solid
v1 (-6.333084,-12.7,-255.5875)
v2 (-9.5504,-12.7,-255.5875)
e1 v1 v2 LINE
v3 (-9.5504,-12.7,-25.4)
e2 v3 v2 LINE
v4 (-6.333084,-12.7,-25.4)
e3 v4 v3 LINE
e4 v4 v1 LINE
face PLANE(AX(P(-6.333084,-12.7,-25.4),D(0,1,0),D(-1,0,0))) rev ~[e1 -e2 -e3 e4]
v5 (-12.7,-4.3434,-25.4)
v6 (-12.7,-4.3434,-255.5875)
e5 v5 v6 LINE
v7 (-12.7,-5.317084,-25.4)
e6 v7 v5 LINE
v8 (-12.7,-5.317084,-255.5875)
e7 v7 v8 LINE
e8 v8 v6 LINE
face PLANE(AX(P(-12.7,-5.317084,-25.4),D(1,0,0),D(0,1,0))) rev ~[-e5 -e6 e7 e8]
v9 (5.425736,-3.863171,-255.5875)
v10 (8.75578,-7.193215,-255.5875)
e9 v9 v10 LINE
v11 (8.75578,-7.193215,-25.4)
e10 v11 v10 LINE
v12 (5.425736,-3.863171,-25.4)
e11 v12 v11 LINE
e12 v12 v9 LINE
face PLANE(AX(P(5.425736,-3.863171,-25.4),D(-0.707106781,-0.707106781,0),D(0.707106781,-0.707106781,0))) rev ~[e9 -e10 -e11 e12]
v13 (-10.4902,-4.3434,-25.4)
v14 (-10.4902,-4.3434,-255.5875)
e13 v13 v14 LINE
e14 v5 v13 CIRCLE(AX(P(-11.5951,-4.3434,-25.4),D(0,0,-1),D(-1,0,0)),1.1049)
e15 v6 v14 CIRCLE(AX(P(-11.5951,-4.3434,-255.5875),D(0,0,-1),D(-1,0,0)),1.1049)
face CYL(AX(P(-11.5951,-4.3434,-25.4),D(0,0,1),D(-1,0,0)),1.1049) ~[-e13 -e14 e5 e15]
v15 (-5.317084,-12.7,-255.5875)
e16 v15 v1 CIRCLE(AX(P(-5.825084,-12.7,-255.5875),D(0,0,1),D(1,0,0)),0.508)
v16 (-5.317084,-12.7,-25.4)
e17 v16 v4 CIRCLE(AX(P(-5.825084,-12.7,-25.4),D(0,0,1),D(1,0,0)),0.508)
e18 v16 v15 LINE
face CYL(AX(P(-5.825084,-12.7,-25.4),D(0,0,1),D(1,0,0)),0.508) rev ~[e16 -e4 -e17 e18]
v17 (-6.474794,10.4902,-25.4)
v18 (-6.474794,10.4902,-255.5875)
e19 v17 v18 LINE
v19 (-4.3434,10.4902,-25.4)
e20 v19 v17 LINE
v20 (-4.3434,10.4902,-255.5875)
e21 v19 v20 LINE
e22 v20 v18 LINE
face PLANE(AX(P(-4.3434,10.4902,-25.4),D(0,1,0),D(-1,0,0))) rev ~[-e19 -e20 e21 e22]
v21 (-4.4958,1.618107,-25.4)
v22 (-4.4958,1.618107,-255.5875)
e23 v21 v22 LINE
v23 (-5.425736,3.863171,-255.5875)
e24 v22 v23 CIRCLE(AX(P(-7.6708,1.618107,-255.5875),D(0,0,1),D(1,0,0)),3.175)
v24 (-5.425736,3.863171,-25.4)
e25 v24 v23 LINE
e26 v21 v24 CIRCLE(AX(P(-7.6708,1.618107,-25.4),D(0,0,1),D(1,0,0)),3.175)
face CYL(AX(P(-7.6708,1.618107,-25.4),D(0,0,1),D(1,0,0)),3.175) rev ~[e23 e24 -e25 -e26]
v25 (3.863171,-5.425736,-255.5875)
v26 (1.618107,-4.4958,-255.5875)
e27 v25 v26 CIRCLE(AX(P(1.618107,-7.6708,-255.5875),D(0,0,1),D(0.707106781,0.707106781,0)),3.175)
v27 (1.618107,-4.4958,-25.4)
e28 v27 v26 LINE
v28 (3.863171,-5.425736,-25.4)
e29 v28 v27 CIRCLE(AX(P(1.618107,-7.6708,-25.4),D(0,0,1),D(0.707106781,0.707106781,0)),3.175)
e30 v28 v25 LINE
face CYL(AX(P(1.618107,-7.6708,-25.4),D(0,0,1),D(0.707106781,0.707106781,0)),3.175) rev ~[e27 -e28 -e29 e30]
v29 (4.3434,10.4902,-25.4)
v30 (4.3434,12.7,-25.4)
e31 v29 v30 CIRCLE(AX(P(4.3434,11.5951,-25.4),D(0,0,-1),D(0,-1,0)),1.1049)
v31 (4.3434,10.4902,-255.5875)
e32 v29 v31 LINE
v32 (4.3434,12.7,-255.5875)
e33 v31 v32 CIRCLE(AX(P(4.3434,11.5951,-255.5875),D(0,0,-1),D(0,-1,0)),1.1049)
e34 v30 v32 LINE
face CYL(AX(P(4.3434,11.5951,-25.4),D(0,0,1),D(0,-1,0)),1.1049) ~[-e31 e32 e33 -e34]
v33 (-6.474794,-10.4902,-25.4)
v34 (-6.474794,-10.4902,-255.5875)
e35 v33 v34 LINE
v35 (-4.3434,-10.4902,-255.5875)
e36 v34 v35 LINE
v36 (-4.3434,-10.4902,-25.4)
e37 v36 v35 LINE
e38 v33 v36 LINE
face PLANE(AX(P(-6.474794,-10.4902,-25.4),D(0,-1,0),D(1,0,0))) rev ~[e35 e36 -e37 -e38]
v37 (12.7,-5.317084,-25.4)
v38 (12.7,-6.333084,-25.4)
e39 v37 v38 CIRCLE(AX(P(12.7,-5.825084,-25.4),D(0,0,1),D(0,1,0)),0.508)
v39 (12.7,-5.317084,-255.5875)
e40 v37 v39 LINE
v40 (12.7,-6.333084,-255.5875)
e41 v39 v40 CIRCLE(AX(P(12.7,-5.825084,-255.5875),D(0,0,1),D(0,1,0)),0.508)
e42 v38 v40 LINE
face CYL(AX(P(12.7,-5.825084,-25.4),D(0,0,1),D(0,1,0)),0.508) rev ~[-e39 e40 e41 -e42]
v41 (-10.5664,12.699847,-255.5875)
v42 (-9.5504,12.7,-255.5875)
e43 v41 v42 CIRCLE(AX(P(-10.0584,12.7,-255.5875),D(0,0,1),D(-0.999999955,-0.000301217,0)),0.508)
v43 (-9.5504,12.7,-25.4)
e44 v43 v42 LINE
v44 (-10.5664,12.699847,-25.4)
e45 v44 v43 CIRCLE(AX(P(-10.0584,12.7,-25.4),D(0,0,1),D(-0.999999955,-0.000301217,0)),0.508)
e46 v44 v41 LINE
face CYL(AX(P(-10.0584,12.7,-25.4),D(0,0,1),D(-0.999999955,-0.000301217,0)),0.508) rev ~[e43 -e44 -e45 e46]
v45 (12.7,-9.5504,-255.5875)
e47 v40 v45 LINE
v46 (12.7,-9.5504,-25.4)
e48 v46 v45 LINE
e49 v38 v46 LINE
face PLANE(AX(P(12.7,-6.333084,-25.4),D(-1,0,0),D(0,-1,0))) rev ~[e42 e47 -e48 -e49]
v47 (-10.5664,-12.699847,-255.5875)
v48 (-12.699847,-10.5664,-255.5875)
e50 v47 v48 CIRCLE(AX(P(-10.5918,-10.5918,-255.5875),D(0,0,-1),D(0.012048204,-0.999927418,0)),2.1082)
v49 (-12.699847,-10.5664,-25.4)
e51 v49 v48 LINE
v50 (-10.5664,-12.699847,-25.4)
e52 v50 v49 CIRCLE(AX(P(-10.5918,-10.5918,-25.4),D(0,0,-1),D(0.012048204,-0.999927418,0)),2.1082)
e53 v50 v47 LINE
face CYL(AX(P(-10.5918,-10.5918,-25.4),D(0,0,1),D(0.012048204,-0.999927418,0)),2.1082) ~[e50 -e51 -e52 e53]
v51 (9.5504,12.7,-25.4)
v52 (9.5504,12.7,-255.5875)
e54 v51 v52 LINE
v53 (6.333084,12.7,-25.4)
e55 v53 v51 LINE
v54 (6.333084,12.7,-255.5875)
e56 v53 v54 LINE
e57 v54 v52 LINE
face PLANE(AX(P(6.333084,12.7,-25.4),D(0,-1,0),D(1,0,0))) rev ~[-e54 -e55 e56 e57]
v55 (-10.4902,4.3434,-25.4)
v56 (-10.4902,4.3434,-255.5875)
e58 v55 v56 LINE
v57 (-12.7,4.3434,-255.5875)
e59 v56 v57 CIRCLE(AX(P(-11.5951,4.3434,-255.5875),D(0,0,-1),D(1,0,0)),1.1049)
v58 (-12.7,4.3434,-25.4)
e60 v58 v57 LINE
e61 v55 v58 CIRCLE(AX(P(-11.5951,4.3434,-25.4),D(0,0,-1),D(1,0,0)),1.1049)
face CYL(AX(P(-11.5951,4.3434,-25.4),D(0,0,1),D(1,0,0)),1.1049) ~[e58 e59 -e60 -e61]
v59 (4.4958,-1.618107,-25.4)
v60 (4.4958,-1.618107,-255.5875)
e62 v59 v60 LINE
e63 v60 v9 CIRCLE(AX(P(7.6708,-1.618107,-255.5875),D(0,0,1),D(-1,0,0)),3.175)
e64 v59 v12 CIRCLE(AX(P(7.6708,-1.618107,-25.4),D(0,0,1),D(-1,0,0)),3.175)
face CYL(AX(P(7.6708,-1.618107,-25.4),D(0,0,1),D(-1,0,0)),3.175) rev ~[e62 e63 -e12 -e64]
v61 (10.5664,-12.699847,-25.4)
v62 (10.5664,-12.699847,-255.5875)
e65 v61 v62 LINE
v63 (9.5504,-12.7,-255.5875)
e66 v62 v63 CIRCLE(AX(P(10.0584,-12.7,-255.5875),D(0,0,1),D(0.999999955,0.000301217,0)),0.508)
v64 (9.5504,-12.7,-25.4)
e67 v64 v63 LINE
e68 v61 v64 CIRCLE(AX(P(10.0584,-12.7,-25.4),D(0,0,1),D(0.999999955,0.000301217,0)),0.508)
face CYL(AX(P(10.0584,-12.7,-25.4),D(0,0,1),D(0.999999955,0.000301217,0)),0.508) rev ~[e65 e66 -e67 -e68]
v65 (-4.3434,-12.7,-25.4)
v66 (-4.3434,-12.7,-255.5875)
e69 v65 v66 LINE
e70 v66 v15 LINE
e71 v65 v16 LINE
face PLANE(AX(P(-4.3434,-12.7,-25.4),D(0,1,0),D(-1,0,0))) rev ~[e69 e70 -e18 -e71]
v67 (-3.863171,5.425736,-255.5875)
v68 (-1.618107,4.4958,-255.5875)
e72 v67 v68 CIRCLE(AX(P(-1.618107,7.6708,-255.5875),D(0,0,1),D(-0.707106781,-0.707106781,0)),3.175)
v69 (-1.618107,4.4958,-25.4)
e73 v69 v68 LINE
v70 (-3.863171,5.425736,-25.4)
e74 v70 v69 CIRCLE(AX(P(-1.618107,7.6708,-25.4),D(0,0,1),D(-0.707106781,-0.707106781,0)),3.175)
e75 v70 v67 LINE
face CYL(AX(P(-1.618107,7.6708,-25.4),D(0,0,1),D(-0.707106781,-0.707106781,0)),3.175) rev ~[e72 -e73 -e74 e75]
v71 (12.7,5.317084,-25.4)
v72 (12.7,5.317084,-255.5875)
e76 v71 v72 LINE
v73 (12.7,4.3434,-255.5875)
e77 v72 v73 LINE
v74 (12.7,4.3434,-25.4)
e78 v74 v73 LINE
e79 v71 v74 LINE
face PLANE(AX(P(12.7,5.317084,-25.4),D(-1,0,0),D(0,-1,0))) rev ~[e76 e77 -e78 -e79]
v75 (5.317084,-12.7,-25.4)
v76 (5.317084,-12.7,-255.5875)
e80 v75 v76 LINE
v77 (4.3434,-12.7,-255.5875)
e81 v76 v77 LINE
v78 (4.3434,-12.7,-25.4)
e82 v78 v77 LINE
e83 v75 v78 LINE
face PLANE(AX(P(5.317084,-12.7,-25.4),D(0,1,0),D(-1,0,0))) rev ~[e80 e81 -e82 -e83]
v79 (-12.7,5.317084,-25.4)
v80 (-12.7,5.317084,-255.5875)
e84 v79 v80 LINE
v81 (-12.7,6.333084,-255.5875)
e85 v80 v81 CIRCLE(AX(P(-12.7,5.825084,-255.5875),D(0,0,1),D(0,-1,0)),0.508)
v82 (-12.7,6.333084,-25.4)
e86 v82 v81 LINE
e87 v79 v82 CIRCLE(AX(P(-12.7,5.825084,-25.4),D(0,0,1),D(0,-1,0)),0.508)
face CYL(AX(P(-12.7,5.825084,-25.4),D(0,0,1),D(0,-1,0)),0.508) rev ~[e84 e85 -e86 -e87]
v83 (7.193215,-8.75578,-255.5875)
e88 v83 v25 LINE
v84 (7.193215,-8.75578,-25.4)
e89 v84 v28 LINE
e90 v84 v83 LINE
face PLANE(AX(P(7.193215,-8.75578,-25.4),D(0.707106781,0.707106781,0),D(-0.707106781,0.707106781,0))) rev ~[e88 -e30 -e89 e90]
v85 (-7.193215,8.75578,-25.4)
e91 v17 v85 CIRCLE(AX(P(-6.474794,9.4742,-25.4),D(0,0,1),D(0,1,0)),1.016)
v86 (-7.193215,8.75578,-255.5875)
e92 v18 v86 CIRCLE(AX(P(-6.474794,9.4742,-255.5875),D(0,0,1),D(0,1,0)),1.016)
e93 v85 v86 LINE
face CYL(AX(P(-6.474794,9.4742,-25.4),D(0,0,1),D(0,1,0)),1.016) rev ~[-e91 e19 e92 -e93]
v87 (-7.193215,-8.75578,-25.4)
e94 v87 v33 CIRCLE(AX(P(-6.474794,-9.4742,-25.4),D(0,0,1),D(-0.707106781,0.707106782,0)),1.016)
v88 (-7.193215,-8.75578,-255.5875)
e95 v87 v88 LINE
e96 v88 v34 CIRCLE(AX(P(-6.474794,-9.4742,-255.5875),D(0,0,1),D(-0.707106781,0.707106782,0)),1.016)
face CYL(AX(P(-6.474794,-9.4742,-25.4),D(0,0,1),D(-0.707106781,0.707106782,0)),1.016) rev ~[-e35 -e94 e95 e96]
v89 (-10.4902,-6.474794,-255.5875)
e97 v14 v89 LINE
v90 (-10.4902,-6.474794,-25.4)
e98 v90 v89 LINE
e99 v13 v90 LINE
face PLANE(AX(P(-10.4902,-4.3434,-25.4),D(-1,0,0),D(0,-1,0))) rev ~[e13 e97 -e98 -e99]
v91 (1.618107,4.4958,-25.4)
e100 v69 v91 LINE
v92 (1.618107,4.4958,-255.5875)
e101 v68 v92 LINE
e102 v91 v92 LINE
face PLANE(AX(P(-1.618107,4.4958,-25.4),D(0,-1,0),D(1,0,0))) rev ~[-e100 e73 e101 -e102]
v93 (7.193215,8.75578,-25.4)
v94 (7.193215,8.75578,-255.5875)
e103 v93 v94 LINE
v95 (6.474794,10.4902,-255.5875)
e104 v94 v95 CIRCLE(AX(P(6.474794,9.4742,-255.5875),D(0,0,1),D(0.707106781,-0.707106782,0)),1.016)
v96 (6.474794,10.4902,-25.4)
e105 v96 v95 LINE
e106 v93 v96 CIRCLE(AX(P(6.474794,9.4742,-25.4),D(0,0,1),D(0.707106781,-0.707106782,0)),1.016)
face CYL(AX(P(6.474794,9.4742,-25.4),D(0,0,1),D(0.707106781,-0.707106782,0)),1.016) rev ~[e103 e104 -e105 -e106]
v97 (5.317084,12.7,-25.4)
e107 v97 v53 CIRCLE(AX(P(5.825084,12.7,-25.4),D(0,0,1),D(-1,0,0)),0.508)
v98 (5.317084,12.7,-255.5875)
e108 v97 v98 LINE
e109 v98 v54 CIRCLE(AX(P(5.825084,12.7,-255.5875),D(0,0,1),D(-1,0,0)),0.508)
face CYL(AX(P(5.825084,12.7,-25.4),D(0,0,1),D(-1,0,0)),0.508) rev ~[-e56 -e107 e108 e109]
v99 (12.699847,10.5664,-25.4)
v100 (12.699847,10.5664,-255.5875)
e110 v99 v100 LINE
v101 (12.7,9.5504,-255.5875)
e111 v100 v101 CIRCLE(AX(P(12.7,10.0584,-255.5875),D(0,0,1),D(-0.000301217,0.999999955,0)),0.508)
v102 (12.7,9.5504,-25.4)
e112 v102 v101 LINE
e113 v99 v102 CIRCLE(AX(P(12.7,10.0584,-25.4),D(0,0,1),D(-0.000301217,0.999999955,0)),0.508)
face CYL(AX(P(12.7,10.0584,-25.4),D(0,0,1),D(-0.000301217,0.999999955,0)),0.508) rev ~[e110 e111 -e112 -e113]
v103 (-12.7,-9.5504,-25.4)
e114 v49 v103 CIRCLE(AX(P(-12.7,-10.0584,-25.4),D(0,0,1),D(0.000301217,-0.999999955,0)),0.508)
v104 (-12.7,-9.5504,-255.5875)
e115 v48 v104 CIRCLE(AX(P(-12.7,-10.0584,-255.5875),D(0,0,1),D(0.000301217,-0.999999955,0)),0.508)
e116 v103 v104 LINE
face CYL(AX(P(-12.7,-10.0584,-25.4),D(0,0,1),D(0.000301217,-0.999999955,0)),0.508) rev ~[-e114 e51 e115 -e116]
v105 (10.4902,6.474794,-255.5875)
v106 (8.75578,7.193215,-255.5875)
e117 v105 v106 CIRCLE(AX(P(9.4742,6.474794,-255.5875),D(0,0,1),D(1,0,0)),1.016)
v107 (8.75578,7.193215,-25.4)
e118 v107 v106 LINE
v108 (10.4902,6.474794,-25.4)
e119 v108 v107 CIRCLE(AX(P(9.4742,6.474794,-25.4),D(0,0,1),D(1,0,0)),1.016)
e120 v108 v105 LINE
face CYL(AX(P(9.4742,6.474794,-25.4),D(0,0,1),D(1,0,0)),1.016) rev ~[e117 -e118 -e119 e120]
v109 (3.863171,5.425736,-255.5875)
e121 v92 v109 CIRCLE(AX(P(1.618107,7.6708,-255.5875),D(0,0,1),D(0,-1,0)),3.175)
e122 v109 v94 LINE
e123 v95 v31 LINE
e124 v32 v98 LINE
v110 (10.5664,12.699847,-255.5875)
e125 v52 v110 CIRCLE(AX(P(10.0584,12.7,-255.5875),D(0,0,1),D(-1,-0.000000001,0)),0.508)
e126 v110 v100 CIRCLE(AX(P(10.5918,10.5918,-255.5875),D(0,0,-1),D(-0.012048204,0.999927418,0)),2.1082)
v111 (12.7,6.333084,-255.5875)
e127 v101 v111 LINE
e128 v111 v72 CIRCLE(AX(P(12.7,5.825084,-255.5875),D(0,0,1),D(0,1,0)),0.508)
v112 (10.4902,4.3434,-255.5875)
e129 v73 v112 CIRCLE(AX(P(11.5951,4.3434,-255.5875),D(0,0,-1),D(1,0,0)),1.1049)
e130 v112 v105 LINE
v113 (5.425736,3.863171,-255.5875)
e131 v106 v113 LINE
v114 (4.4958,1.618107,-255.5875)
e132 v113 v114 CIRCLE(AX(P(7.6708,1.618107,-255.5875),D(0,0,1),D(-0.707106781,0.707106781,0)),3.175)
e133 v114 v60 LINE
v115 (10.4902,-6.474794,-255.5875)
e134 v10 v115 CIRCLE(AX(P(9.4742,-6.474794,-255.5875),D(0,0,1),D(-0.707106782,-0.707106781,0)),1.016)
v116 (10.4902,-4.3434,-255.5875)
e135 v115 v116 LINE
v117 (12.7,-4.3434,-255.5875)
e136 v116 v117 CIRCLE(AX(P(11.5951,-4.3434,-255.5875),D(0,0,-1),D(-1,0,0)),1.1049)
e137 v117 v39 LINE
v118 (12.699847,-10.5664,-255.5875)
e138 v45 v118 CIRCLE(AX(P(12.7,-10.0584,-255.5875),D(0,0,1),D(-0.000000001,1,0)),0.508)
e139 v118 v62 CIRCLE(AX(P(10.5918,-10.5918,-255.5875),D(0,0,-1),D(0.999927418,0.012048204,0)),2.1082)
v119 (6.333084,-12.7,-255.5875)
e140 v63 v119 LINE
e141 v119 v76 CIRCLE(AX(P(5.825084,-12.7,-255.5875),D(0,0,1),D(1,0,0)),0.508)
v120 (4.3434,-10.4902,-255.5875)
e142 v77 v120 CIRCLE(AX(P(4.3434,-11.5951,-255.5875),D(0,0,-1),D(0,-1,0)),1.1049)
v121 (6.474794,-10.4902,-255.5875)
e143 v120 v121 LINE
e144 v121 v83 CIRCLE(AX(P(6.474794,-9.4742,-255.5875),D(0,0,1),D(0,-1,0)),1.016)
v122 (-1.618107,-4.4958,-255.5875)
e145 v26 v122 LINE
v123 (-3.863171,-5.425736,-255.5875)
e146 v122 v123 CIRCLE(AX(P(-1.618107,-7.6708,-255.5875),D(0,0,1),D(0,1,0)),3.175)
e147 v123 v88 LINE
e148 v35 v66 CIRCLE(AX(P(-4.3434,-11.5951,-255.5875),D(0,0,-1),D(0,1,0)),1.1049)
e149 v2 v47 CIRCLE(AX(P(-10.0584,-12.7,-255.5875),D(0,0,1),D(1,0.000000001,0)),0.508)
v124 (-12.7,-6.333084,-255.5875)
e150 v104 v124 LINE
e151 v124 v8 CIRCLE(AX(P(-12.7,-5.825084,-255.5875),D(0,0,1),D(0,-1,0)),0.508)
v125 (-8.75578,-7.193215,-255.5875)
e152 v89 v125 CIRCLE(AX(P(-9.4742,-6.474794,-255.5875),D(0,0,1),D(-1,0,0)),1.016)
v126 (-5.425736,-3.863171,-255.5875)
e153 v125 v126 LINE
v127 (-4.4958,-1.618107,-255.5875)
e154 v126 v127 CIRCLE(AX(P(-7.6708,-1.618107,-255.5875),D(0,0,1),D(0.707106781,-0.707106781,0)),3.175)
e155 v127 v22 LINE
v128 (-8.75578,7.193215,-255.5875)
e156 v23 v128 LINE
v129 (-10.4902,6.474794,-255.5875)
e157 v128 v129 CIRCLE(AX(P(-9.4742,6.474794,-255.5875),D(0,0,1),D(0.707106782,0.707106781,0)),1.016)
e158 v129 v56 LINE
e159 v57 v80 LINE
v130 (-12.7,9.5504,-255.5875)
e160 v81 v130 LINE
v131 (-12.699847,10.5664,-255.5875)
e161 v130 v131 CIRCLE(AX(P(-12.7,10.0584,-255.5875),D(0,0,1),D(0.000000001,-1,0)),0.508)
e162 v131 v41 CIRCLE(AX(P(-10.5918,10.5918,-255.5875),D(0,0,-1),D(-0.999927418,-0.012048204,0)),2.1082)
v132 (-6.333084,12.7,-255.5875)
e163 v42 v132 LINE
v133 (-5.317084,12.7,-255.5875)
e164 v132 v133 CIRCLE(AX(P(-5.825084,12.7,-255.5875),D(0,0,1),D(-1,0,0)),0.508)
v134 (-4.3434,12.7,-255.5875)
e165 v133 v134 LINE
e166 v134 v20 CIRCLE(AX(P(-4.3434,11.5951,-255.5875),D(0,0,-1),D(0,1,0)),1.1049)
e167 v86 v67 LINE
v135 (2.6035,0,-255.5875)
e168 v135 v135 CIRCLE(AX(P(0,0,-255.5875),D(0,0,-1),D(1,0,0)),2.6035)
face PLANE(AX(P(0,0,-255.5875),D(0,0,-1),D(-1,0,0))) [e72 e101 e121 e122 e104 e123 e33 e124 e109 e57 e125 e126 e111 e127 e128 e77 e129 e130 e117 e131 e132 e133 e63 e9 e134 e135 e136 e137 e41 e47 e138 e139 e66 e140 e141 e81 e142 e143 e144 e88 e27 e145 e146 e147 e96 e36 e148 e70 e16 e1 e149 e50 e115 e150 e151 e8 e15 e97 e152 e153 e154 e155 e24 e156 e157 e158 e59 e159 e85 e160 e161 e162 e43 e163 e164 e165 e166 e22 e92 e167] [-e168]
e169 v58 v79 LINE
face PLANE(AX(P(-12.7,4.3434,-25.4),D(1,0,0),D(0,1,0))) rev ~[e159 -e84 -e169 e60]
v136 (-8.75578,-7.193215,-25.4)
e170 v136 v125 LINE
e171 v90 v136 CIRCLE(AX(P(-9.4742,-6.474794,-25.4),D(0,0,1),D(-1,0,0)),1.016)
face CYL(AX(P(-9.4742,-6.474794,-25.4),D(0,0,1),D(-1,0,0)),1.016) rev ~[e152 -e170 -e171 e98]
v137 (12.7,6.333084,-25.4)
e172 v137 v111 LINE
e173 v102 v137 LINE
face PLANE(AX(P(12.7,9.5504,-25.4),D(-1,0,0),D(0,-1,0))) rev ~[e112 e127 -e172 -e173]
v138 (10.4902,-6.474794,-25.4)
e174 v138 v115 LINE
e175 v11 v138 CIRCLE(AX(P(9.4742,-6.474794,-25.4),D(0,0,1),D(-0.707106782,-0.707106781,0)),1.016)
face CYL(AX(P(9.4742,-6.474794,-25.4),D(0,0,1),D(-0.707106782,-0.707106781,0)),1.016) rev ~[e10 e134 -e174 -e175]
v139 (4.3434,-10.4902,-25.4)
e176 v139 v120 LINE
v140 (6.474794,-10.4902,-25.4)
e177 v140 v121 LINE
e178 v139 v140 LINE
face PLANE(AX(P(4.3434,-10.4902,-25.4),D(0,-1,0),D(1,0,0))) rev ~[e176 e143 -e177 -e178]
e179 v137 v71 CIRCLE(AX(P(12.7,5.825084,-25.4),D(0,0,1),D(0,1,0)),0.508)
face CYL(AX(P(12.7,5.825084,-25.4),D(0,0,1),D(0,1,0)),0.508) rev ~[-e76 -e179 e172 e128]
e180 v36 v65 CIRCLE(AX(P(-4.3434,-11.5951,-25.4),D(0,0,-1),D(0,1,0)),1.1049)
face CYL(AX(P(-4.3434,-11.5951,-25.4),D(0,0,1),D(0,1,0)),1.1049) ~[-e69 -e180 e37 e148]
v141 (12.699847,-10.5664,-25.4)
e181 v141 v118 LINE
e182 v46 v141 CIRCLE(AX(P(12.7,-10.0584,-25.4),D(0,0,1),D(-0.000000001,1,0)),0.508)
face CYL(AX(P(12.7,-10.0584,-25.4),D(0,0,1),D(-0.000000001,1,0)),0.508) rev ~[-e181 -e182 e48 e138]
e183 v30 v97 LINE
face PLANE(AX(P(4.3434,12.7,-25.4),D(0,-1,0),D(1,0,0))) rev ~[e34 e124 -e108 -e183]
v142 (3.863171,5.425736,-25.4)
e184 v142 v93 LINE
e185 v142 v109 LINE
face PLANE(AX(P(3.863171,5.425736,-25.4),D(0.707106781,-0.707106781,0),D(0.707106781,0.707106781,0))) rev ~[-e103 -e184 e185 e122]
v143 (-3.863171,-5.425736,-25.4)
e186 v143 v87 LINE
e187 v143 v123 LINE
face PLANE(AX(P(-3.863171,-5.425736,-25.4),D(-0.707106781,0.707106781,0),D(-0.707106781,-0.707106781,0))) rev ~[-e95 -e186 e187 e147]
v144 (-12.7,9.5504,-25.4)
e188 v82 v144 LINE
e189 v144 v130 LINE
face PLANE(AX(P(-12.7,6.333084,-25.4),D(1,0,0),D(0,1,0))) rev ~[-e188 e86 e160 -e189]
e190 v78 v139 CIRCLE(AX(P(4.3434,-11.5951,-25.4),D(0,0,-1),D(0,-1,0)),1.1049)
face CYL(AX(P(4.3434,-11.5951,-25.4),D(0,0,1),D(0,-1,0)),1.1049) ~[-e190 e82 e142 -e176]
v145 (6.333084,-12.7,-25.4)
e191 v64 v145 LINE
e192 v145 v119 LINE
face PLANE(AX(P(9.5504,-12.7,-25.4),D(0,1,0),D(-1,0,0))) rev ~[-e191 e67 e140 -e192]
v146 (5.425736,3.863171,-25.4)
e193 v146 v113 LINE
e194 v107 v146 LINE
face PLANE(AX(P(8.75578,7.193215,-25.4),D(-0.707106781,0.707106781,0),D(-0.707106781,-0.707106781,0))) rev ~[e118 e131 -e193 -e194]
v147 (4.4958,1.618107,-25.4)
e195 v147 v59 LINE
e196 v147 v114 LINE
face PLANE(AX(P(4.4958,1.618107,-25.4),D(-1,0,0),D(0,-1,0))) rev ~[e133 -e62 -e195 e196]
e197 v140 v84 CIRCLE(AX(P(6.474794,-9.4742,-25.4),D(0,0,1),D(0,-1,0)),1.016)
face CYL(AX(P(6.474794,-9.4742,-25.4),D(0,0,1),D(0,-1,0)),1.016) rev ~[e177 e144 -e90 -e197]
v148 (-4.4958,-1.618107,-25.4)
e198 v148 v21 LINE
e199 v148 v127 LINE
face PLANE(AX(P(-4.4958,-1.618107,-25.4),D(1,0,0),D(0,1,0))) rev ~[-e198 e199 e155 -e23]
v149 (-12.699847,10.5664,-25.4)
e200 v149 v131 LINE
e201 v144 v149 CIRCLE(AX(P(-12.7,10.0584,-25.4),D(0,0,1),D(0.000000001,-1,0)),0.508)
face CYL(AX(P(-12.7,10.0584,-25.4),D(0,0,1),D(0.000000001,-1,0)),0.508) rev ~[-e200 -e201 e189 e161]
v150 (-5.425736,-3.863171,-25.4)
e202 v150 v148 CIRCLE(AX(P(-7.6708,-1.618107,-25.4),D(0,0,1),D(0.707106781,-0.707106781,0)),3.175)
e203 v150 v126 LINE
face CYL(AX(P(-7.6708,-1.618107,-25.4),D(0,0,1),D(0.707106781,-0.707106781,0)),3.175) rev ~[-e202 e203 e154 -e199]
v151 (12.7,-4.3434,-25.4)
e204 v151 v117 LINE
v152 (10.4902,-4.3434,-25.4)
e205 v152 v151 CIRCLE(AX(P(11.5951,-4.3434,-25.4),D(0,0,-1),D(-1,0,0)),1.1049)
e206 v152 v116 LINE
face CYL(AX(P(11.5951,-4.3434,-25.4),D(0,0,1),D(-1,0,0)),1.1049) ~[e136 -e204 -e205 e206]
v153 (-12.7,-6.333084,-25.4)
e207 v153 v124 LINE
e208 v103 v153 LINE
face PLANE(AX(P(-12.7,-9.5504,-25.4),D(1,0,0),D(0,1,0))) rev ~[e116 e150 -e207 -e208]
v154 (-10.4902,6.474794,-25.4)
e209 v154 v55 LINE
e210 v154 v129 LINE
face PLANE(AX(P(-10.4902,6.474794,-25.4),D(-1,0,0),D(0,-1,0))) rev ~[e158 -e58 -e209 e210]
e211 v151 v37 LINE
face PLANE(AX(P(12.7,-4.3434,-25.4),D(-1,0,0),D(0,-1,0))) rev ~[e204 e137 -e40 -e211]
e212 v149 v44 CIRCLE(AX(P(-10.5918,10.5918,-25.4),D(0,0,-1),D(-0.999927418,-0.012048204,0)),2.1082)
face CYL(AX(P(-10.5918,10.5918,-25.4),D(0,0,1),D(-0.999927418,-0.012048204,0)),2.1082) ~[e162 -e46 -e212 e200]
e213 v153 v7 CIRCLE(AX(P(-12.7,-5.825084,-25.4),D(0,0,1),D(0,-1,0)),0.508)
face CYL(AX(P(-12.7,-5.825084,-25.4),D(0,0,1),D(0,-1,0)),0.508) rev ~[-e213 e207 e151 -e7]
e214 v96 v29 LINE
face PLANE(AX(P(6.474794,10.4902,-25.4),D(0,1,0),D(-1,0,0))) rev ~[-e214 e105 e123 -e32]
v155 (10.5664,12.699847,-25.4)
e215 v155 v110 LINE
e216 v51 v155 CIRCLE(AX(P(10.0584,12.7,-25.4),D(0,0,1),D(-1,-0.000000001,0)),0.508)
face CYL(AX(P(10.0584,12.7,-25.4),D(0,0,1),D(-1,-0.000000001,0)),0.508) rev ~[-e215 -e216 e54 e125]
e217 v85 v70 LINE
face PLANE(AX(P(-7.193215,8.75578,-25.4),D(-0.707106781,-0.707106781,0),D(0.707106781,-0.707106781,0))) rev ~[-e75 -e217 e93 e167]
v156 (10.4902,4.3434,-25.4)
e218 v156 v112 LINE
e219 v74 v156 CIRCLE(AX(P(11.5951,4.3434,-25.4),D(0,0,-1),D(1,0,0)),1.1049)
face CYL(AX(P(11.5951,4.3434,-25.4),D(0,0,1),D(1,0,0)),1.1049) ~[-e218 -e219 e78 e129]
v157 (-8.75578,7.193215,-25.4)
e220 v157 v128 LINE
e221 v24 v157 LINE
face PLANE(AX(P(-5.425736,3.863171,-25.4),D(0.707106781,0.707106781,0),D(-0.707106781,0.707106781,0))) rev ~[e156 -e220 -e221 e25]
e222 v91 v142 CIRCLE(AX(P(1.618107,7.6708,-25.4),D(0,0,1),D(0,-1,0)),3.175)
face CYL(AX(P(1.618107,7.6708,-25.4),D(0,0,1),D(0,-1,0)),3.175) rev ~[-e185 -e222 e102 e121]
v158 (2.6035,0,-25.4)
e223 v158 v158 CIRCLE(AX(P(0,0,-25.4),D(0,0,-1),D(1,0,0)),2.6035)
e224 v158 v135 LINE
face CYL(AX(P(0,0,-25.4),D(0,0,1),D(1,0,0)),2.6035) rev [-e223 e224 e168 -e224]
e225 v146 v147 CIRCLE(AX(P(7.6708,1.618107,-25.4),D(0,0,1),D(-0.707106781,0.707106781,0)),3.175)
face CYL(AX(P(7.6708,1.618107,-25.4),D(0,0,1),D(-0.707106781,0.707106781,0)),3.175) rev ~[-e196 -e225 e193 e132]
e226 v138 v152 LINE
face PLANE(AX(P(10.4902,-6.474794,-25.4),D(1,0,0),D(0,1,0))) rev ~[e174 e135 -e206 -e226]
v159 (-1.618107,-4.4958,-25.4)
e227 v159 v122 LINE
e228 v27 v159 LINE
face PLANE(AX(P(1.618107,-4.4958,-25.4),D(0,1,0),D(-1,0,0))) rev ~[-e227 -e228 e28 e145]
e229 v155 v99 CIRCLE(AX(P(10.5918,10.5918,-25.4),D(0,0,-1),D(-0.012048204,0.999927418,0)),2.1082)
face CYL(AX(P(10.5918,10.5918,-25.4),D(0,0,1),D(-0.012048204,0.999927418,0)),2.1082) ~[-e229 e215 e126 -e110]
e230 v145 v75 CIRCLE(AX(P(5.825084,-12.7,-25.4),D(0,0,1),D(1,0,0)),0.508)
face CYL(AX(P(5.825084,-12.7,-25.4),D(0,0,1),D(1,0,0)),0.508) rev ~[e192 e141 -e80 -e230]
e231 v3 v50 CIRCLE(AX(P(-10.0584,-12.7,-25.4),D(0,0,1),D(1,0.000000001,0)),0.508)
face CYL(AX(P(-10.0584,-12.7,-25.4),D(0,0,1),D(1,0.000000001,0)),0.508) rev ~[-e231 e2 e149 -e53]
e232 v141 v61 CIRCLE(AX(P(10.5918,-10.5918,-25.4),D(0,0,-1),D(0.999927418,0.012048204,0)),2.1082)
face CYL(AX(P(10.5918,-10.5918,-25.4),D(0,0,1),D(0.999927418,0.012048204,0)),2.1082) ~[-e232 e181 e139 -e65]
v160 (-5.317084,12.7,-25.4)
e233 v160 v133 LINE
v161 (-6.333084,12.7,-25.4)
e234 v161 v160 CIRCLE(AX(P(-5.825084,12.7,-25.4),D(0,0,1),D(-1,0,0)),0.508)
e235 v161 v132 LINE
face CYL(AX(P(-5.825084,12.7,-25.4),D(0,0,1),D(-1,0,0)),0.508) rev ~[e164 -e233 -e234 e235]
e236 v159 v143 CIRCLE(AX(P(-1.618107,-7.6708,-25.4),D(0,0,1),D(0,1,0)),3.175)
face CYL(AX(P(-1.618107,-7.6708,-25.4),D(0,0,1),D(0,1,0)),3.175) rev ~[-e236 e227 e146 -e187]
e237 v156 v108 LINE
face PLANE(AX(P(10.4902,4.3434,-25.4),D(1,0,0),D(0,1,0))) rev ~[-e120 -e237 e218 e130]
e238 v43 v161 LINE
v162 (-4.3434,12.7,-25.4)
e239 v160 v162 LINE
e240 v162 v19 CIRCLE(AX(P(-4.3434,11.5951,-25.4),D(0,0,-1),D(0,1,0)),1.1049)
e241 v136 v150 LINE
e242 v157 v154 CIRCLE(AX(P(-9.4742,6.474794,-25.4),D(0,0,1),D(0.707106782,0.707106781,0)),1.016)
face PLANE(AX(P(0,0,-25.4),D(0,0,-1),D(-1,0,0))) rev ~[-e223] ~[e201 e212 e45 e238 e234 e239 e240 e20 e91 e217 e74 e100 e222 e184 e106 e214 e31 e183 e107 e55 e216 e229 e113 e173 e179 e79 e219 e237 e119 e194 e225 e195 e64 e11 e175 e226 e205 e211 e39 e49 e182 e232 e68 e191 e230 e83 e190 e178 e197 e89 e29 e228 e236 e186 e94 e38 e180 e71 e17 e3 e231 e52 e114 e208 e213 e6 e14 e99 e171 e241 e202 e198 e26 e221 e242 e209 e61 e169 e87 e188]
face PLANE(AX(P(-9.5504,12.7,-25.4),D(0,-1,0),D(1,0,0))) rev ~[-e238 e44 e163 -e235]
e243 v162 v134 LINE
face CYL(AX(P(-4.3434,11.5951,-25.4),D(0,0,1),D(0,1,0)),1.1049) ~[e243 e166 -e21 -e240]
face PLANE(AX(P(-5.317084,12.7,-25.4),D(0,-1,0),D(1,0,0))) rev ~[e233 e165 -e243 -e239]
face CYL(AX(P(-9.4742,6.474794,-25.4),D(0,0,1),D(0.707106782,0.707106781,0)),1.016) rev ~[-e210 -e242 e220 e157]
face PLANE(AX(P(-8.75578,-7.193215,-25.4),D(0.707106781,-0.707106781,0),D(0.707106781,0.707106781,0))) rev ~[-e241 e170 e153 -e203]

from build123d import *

# Parameters (mm, degrees)
SKETCH1_R           = 2.6035
BOSS_EXTRUDE1_DEPTH = 230.1875


with BuildPart() as part:
    # Sketch1 → Boss-Extrude1 (new body)
    with BuildSketch(Plane(origin=(0, 0, -25.4), x_dir=(-1, 0, 0), z_dir=(0, 0, -1))):
        with BuildLine():
            Line((12.7, -9.5504), (12.7, -6.3330836))
            ThreePointArc((12.7, -6.3330836), (12.192, -5.8250836), (12.7, -5.3170836))
            Line((12.7, -5.3170836), (12.7, -4.3434))
            ThreePointArc((12.7, -4.3434), (11.5951, -3.2385), (10.4902, -4.3434))
            Line((10.4902, -4.3434), (10.4902, -6.474794456))
            ThreePointArc((10.4902, -6.474794456), (9.863006367, -7.413456061), (8.75577951, -7.193214945))
            Line((8.75577951, -7.193214945), (5.42573597, -3.863171405))
            ThreePointArc((5.42573597, -3.863171405), (4.737482484, -2.833127272), (4.4958, -1.618107374))
            Line((4.4958, -1.618107374), (4.4958, 1.618107374))
            ThreePointArc((4.4958, 1.618107374), (4.737482484, 2.833127272), (5.42573597, 3.863171405))
            Line((5.42573597, 3.863171405), (8.75577951, 7.193214945))
            ThreePointArc((8.75577951, 7.193214945), (9.863006367, 7.413456061), (10.4902, 6.474794456))
            Line((10.4902, 6.474794456), (10.4902, 4.343399971))
            ThreePointArc((10.4902, 4.343399971), (11.5951, 3.238499971), (12.7, 4.343399971))
            Line((12.7, 4.343399971), (12.7, 5.3170836))
            ThreePointArc((12.7, 5.3170836), (12.192, 5.8250836), (12.7, 6.3330836))
            Line((12.7, 6.3330836), (12.7, 9.5504))
            ThreePointArc((12.7, 9.5504), (12.192000006, 10.058323491), (12.699846982, 10.566399977))
            ThreePointArc((12.699846982, 10.566399977), (12.082522516, 12.082522516), (10.566399977, 12.699846982))
            ThreePointArc((10.566399977, 12.699846982), (10.058323491, 12.192000006), (9.5504, 12.7))
            Line((9.5504, 12.7), (6.3330836, 12.7))
            ThreePointArc((6.3330836, 12.7), (5.8250836, 12.192), (5.3170836, 12.7))
            Line((5.3170836, 12.7), (4.3434, 12.7))
            ThreePointArc((4.3434, 12.7), (3.2385, 11.5951), (4.3434, 10.4902))
            Line((4.3434, 10.4902), (6.474794456, 10.4902))
            ThreePointArc((6.474794456, 10.4902), (7.413456061, 9.863006367), (7.193214945, 8.75577951))
            Line((7.193214945, 8.75577951), (3.863171405, 5.42573597))
            ThreePointArc((3.863171405, 5.42573597), (2.833127272, 4.737482484), (1.618107374, 4.4958))
            Line((1.618107374, 4.4958), (-1.618107374, 4.4958))
            ThreePointArc((-1.618107374, 4.4958), (-2.833127272, 4.737482484), (-3.863171405, 5.42573597))
            Line((-3.863171405, 5.42573597), (-7.193214945, 8.75577951))
            ThreePointArc((-7.193214945, 8.75577951), (-7.413456061, 9.863006367), (-6.474794456, 10.4902))
            Line((-6.474794456, 10.4902), (-4.343399971, 10.4902))
            ThreePointArc((-4.343399971, 10.4902), (-3.238499971, 11.5951), (-4.343399971, 12.7))
            Line((-4.343399971, 12.7), (-5.3170836, 12.7))
            ThreePointArc((-5.3170836, 12.7), (-5.8250836, 12.192), (-6.3330836, 12.7))
            Line((-6.3330836, 12.7), (-9.5504, 12.7))
            ThreePointArc((-9.5504, 12.7), (-10.058323491, 12.192000006), (-10.566399977, 12.699846982))
            ThreePointArc((-10.566399977, 12.699846982), (-12.082522516, 12.082522516), (-12.699846982, 10.566399977))
            ThreePointArc((-12.699846982, 10.566399977), (-12.192000006, 10.058323491), (-12.7, 9.5504))
            Line((-12.7, 9.5504), (-12.7, 6.3330836))
            ThreePointArc((-12.7, 6.3330836), (-12.192, 5.8250836), (-12.7, 5.3170836))
            Line((-12.7, 5.3170836), (-12.7, 4.3434))
            ThreePointArc((-12.7, 4.3434), (-11.5951, 3.2385), (-10.4902, 4.3434))
            Line((-10.4902, 4.3434), (-10.4902, 6.474794456))
            ThreePointArc((-10.4902, 6.474794456), (-9.863006367, 7.413456061), (-8.75577951, 7.193214945))
            Line((-8.75577951, 7.193214945), (-5.42573597, 3.863171405))
            ThreePointArc((-5.42573597, 3.863171405), (-4.737482484, 2.833127272), (-4.4958, 1.618107374))
            Line((-4.4958, 1.618107374), (-4.4958, -1.618107374))
            ThreePointArc((-4.4958, -1.618107374), (-4.737482484, -2.833127272), (-5.42573597, -3.863171405))
            Line((-5.42573597, -3.863171405), (-8.75577951, -7.193214945))
            ThreePointArc((-8.75577951, -7.193214945), (-9.863006367, -7.413456061), (-10.4902, -6.474794456))
            Line((-10.4902, -6.474794456), (-10.4902, -4.343399971))
            ThreePointArc((-10.4902, -4.343399971), (-11.5951, -3.238499971), (-12.7, -4.343399971))
            Line((-12.7, -4.343399971), (-12.7, -5.3170836))
            ThreePointArc((-12.7, -5.3170836), (-12.192, -5.8250836), (-12.7, -6.3330836))
            Line((-12.7, -6.3330836), (-12.7, -9.5504))
            ThreePointArc((-12.7, -9.5504), (-12.192000006, -10.058323491), (-12.699846982, -10.566399977))
            ThreePointArc((-12.699846982, -10.566399977), (-12.082522516, -12.082522516), (-10.566399977, -12.699846982))
            ThreePointArc((-10.566399977, -12.699846982), (-10.058323491, -12.192000006), (-9.5504, -12.7))
            Line((-9.5504, -12.7), (-6.3330836, -12.7))
            ThreePointArc((-6.3330836, -12.7), (-5.8250836, -12.192), (-5.3170836, -12.7))
            Line((-5.3170836, -12.7), (-4.3434, -12.7))
            ThreePointArc((-4.3434, -12.7), (-3.2385, -11.5951), (-4.3434, -10.4902))
            Line((-4.3434, -10.4902), (-6.474794456, -10.4902))
            ThreePointArc((-6.474794456, -10.4902), (-7.413456061, -9.863006367), (-7.193214945, -8.75577951))
            Line((-7.193214945, -8.75577951), (-3.863171405, -5.42573597))
            ThreePointArc((-3.863171405, -5.42573597), (-2.833127272, -4.737482484), (-1.618107374, -4.4958))
            Line((-1.618107374, -4.4958), (1.618107374, -4.4958))
            ThreePointArc((1.618107374, -4.4958), (2.833127272, -4.737482484), (3.863171405, -5.42573597))
            Line((3.863171405, -5.42573597), (7.193214945, -8.75577951))
            ThreePointArc((7.193214945, -8.75577951), (7.413456061, -9.863006367), (6.474794456, -10.4902))
            Line((6.474794456, -10.4902), (4.343399971, -10.4902))
            ThreePointArc((4.343399971, -10.4902), (3.238499971, -11.5951), (4.343399971, -12.7))
            Line((4.343399971, -12.7), (5.3170836, -12.7))
            ThreePointArc((5.3170836, -12.7), (5.8250836, -12.192), (6.3330836, -12.7))
            Line((6.3330836, -12.7), (9.5504, -12.7))
            ThreePointArc((9.5504, -12.7), (10.058323491, -12.192000006), (10.566399977, -12.699846982))
            ThreePointArc((10.566399977, -12.699846982), (12.082522516, -12.082522516), (12.699846982, -10.566399977))
            ThreePointArc((12.699846982, -10.566399977), (12.192000006, -10.058323491), (12.7, -9.5504))
        make_face()
        with Locations(Location((0, 0, 0), (0, 0, 180))):
            Circle(SKETCH1_R, mode=Mode.SUBTRACT)
    extrude(amount=BOSS_EXTRUDE1_DEPTH)


solid = part.part
